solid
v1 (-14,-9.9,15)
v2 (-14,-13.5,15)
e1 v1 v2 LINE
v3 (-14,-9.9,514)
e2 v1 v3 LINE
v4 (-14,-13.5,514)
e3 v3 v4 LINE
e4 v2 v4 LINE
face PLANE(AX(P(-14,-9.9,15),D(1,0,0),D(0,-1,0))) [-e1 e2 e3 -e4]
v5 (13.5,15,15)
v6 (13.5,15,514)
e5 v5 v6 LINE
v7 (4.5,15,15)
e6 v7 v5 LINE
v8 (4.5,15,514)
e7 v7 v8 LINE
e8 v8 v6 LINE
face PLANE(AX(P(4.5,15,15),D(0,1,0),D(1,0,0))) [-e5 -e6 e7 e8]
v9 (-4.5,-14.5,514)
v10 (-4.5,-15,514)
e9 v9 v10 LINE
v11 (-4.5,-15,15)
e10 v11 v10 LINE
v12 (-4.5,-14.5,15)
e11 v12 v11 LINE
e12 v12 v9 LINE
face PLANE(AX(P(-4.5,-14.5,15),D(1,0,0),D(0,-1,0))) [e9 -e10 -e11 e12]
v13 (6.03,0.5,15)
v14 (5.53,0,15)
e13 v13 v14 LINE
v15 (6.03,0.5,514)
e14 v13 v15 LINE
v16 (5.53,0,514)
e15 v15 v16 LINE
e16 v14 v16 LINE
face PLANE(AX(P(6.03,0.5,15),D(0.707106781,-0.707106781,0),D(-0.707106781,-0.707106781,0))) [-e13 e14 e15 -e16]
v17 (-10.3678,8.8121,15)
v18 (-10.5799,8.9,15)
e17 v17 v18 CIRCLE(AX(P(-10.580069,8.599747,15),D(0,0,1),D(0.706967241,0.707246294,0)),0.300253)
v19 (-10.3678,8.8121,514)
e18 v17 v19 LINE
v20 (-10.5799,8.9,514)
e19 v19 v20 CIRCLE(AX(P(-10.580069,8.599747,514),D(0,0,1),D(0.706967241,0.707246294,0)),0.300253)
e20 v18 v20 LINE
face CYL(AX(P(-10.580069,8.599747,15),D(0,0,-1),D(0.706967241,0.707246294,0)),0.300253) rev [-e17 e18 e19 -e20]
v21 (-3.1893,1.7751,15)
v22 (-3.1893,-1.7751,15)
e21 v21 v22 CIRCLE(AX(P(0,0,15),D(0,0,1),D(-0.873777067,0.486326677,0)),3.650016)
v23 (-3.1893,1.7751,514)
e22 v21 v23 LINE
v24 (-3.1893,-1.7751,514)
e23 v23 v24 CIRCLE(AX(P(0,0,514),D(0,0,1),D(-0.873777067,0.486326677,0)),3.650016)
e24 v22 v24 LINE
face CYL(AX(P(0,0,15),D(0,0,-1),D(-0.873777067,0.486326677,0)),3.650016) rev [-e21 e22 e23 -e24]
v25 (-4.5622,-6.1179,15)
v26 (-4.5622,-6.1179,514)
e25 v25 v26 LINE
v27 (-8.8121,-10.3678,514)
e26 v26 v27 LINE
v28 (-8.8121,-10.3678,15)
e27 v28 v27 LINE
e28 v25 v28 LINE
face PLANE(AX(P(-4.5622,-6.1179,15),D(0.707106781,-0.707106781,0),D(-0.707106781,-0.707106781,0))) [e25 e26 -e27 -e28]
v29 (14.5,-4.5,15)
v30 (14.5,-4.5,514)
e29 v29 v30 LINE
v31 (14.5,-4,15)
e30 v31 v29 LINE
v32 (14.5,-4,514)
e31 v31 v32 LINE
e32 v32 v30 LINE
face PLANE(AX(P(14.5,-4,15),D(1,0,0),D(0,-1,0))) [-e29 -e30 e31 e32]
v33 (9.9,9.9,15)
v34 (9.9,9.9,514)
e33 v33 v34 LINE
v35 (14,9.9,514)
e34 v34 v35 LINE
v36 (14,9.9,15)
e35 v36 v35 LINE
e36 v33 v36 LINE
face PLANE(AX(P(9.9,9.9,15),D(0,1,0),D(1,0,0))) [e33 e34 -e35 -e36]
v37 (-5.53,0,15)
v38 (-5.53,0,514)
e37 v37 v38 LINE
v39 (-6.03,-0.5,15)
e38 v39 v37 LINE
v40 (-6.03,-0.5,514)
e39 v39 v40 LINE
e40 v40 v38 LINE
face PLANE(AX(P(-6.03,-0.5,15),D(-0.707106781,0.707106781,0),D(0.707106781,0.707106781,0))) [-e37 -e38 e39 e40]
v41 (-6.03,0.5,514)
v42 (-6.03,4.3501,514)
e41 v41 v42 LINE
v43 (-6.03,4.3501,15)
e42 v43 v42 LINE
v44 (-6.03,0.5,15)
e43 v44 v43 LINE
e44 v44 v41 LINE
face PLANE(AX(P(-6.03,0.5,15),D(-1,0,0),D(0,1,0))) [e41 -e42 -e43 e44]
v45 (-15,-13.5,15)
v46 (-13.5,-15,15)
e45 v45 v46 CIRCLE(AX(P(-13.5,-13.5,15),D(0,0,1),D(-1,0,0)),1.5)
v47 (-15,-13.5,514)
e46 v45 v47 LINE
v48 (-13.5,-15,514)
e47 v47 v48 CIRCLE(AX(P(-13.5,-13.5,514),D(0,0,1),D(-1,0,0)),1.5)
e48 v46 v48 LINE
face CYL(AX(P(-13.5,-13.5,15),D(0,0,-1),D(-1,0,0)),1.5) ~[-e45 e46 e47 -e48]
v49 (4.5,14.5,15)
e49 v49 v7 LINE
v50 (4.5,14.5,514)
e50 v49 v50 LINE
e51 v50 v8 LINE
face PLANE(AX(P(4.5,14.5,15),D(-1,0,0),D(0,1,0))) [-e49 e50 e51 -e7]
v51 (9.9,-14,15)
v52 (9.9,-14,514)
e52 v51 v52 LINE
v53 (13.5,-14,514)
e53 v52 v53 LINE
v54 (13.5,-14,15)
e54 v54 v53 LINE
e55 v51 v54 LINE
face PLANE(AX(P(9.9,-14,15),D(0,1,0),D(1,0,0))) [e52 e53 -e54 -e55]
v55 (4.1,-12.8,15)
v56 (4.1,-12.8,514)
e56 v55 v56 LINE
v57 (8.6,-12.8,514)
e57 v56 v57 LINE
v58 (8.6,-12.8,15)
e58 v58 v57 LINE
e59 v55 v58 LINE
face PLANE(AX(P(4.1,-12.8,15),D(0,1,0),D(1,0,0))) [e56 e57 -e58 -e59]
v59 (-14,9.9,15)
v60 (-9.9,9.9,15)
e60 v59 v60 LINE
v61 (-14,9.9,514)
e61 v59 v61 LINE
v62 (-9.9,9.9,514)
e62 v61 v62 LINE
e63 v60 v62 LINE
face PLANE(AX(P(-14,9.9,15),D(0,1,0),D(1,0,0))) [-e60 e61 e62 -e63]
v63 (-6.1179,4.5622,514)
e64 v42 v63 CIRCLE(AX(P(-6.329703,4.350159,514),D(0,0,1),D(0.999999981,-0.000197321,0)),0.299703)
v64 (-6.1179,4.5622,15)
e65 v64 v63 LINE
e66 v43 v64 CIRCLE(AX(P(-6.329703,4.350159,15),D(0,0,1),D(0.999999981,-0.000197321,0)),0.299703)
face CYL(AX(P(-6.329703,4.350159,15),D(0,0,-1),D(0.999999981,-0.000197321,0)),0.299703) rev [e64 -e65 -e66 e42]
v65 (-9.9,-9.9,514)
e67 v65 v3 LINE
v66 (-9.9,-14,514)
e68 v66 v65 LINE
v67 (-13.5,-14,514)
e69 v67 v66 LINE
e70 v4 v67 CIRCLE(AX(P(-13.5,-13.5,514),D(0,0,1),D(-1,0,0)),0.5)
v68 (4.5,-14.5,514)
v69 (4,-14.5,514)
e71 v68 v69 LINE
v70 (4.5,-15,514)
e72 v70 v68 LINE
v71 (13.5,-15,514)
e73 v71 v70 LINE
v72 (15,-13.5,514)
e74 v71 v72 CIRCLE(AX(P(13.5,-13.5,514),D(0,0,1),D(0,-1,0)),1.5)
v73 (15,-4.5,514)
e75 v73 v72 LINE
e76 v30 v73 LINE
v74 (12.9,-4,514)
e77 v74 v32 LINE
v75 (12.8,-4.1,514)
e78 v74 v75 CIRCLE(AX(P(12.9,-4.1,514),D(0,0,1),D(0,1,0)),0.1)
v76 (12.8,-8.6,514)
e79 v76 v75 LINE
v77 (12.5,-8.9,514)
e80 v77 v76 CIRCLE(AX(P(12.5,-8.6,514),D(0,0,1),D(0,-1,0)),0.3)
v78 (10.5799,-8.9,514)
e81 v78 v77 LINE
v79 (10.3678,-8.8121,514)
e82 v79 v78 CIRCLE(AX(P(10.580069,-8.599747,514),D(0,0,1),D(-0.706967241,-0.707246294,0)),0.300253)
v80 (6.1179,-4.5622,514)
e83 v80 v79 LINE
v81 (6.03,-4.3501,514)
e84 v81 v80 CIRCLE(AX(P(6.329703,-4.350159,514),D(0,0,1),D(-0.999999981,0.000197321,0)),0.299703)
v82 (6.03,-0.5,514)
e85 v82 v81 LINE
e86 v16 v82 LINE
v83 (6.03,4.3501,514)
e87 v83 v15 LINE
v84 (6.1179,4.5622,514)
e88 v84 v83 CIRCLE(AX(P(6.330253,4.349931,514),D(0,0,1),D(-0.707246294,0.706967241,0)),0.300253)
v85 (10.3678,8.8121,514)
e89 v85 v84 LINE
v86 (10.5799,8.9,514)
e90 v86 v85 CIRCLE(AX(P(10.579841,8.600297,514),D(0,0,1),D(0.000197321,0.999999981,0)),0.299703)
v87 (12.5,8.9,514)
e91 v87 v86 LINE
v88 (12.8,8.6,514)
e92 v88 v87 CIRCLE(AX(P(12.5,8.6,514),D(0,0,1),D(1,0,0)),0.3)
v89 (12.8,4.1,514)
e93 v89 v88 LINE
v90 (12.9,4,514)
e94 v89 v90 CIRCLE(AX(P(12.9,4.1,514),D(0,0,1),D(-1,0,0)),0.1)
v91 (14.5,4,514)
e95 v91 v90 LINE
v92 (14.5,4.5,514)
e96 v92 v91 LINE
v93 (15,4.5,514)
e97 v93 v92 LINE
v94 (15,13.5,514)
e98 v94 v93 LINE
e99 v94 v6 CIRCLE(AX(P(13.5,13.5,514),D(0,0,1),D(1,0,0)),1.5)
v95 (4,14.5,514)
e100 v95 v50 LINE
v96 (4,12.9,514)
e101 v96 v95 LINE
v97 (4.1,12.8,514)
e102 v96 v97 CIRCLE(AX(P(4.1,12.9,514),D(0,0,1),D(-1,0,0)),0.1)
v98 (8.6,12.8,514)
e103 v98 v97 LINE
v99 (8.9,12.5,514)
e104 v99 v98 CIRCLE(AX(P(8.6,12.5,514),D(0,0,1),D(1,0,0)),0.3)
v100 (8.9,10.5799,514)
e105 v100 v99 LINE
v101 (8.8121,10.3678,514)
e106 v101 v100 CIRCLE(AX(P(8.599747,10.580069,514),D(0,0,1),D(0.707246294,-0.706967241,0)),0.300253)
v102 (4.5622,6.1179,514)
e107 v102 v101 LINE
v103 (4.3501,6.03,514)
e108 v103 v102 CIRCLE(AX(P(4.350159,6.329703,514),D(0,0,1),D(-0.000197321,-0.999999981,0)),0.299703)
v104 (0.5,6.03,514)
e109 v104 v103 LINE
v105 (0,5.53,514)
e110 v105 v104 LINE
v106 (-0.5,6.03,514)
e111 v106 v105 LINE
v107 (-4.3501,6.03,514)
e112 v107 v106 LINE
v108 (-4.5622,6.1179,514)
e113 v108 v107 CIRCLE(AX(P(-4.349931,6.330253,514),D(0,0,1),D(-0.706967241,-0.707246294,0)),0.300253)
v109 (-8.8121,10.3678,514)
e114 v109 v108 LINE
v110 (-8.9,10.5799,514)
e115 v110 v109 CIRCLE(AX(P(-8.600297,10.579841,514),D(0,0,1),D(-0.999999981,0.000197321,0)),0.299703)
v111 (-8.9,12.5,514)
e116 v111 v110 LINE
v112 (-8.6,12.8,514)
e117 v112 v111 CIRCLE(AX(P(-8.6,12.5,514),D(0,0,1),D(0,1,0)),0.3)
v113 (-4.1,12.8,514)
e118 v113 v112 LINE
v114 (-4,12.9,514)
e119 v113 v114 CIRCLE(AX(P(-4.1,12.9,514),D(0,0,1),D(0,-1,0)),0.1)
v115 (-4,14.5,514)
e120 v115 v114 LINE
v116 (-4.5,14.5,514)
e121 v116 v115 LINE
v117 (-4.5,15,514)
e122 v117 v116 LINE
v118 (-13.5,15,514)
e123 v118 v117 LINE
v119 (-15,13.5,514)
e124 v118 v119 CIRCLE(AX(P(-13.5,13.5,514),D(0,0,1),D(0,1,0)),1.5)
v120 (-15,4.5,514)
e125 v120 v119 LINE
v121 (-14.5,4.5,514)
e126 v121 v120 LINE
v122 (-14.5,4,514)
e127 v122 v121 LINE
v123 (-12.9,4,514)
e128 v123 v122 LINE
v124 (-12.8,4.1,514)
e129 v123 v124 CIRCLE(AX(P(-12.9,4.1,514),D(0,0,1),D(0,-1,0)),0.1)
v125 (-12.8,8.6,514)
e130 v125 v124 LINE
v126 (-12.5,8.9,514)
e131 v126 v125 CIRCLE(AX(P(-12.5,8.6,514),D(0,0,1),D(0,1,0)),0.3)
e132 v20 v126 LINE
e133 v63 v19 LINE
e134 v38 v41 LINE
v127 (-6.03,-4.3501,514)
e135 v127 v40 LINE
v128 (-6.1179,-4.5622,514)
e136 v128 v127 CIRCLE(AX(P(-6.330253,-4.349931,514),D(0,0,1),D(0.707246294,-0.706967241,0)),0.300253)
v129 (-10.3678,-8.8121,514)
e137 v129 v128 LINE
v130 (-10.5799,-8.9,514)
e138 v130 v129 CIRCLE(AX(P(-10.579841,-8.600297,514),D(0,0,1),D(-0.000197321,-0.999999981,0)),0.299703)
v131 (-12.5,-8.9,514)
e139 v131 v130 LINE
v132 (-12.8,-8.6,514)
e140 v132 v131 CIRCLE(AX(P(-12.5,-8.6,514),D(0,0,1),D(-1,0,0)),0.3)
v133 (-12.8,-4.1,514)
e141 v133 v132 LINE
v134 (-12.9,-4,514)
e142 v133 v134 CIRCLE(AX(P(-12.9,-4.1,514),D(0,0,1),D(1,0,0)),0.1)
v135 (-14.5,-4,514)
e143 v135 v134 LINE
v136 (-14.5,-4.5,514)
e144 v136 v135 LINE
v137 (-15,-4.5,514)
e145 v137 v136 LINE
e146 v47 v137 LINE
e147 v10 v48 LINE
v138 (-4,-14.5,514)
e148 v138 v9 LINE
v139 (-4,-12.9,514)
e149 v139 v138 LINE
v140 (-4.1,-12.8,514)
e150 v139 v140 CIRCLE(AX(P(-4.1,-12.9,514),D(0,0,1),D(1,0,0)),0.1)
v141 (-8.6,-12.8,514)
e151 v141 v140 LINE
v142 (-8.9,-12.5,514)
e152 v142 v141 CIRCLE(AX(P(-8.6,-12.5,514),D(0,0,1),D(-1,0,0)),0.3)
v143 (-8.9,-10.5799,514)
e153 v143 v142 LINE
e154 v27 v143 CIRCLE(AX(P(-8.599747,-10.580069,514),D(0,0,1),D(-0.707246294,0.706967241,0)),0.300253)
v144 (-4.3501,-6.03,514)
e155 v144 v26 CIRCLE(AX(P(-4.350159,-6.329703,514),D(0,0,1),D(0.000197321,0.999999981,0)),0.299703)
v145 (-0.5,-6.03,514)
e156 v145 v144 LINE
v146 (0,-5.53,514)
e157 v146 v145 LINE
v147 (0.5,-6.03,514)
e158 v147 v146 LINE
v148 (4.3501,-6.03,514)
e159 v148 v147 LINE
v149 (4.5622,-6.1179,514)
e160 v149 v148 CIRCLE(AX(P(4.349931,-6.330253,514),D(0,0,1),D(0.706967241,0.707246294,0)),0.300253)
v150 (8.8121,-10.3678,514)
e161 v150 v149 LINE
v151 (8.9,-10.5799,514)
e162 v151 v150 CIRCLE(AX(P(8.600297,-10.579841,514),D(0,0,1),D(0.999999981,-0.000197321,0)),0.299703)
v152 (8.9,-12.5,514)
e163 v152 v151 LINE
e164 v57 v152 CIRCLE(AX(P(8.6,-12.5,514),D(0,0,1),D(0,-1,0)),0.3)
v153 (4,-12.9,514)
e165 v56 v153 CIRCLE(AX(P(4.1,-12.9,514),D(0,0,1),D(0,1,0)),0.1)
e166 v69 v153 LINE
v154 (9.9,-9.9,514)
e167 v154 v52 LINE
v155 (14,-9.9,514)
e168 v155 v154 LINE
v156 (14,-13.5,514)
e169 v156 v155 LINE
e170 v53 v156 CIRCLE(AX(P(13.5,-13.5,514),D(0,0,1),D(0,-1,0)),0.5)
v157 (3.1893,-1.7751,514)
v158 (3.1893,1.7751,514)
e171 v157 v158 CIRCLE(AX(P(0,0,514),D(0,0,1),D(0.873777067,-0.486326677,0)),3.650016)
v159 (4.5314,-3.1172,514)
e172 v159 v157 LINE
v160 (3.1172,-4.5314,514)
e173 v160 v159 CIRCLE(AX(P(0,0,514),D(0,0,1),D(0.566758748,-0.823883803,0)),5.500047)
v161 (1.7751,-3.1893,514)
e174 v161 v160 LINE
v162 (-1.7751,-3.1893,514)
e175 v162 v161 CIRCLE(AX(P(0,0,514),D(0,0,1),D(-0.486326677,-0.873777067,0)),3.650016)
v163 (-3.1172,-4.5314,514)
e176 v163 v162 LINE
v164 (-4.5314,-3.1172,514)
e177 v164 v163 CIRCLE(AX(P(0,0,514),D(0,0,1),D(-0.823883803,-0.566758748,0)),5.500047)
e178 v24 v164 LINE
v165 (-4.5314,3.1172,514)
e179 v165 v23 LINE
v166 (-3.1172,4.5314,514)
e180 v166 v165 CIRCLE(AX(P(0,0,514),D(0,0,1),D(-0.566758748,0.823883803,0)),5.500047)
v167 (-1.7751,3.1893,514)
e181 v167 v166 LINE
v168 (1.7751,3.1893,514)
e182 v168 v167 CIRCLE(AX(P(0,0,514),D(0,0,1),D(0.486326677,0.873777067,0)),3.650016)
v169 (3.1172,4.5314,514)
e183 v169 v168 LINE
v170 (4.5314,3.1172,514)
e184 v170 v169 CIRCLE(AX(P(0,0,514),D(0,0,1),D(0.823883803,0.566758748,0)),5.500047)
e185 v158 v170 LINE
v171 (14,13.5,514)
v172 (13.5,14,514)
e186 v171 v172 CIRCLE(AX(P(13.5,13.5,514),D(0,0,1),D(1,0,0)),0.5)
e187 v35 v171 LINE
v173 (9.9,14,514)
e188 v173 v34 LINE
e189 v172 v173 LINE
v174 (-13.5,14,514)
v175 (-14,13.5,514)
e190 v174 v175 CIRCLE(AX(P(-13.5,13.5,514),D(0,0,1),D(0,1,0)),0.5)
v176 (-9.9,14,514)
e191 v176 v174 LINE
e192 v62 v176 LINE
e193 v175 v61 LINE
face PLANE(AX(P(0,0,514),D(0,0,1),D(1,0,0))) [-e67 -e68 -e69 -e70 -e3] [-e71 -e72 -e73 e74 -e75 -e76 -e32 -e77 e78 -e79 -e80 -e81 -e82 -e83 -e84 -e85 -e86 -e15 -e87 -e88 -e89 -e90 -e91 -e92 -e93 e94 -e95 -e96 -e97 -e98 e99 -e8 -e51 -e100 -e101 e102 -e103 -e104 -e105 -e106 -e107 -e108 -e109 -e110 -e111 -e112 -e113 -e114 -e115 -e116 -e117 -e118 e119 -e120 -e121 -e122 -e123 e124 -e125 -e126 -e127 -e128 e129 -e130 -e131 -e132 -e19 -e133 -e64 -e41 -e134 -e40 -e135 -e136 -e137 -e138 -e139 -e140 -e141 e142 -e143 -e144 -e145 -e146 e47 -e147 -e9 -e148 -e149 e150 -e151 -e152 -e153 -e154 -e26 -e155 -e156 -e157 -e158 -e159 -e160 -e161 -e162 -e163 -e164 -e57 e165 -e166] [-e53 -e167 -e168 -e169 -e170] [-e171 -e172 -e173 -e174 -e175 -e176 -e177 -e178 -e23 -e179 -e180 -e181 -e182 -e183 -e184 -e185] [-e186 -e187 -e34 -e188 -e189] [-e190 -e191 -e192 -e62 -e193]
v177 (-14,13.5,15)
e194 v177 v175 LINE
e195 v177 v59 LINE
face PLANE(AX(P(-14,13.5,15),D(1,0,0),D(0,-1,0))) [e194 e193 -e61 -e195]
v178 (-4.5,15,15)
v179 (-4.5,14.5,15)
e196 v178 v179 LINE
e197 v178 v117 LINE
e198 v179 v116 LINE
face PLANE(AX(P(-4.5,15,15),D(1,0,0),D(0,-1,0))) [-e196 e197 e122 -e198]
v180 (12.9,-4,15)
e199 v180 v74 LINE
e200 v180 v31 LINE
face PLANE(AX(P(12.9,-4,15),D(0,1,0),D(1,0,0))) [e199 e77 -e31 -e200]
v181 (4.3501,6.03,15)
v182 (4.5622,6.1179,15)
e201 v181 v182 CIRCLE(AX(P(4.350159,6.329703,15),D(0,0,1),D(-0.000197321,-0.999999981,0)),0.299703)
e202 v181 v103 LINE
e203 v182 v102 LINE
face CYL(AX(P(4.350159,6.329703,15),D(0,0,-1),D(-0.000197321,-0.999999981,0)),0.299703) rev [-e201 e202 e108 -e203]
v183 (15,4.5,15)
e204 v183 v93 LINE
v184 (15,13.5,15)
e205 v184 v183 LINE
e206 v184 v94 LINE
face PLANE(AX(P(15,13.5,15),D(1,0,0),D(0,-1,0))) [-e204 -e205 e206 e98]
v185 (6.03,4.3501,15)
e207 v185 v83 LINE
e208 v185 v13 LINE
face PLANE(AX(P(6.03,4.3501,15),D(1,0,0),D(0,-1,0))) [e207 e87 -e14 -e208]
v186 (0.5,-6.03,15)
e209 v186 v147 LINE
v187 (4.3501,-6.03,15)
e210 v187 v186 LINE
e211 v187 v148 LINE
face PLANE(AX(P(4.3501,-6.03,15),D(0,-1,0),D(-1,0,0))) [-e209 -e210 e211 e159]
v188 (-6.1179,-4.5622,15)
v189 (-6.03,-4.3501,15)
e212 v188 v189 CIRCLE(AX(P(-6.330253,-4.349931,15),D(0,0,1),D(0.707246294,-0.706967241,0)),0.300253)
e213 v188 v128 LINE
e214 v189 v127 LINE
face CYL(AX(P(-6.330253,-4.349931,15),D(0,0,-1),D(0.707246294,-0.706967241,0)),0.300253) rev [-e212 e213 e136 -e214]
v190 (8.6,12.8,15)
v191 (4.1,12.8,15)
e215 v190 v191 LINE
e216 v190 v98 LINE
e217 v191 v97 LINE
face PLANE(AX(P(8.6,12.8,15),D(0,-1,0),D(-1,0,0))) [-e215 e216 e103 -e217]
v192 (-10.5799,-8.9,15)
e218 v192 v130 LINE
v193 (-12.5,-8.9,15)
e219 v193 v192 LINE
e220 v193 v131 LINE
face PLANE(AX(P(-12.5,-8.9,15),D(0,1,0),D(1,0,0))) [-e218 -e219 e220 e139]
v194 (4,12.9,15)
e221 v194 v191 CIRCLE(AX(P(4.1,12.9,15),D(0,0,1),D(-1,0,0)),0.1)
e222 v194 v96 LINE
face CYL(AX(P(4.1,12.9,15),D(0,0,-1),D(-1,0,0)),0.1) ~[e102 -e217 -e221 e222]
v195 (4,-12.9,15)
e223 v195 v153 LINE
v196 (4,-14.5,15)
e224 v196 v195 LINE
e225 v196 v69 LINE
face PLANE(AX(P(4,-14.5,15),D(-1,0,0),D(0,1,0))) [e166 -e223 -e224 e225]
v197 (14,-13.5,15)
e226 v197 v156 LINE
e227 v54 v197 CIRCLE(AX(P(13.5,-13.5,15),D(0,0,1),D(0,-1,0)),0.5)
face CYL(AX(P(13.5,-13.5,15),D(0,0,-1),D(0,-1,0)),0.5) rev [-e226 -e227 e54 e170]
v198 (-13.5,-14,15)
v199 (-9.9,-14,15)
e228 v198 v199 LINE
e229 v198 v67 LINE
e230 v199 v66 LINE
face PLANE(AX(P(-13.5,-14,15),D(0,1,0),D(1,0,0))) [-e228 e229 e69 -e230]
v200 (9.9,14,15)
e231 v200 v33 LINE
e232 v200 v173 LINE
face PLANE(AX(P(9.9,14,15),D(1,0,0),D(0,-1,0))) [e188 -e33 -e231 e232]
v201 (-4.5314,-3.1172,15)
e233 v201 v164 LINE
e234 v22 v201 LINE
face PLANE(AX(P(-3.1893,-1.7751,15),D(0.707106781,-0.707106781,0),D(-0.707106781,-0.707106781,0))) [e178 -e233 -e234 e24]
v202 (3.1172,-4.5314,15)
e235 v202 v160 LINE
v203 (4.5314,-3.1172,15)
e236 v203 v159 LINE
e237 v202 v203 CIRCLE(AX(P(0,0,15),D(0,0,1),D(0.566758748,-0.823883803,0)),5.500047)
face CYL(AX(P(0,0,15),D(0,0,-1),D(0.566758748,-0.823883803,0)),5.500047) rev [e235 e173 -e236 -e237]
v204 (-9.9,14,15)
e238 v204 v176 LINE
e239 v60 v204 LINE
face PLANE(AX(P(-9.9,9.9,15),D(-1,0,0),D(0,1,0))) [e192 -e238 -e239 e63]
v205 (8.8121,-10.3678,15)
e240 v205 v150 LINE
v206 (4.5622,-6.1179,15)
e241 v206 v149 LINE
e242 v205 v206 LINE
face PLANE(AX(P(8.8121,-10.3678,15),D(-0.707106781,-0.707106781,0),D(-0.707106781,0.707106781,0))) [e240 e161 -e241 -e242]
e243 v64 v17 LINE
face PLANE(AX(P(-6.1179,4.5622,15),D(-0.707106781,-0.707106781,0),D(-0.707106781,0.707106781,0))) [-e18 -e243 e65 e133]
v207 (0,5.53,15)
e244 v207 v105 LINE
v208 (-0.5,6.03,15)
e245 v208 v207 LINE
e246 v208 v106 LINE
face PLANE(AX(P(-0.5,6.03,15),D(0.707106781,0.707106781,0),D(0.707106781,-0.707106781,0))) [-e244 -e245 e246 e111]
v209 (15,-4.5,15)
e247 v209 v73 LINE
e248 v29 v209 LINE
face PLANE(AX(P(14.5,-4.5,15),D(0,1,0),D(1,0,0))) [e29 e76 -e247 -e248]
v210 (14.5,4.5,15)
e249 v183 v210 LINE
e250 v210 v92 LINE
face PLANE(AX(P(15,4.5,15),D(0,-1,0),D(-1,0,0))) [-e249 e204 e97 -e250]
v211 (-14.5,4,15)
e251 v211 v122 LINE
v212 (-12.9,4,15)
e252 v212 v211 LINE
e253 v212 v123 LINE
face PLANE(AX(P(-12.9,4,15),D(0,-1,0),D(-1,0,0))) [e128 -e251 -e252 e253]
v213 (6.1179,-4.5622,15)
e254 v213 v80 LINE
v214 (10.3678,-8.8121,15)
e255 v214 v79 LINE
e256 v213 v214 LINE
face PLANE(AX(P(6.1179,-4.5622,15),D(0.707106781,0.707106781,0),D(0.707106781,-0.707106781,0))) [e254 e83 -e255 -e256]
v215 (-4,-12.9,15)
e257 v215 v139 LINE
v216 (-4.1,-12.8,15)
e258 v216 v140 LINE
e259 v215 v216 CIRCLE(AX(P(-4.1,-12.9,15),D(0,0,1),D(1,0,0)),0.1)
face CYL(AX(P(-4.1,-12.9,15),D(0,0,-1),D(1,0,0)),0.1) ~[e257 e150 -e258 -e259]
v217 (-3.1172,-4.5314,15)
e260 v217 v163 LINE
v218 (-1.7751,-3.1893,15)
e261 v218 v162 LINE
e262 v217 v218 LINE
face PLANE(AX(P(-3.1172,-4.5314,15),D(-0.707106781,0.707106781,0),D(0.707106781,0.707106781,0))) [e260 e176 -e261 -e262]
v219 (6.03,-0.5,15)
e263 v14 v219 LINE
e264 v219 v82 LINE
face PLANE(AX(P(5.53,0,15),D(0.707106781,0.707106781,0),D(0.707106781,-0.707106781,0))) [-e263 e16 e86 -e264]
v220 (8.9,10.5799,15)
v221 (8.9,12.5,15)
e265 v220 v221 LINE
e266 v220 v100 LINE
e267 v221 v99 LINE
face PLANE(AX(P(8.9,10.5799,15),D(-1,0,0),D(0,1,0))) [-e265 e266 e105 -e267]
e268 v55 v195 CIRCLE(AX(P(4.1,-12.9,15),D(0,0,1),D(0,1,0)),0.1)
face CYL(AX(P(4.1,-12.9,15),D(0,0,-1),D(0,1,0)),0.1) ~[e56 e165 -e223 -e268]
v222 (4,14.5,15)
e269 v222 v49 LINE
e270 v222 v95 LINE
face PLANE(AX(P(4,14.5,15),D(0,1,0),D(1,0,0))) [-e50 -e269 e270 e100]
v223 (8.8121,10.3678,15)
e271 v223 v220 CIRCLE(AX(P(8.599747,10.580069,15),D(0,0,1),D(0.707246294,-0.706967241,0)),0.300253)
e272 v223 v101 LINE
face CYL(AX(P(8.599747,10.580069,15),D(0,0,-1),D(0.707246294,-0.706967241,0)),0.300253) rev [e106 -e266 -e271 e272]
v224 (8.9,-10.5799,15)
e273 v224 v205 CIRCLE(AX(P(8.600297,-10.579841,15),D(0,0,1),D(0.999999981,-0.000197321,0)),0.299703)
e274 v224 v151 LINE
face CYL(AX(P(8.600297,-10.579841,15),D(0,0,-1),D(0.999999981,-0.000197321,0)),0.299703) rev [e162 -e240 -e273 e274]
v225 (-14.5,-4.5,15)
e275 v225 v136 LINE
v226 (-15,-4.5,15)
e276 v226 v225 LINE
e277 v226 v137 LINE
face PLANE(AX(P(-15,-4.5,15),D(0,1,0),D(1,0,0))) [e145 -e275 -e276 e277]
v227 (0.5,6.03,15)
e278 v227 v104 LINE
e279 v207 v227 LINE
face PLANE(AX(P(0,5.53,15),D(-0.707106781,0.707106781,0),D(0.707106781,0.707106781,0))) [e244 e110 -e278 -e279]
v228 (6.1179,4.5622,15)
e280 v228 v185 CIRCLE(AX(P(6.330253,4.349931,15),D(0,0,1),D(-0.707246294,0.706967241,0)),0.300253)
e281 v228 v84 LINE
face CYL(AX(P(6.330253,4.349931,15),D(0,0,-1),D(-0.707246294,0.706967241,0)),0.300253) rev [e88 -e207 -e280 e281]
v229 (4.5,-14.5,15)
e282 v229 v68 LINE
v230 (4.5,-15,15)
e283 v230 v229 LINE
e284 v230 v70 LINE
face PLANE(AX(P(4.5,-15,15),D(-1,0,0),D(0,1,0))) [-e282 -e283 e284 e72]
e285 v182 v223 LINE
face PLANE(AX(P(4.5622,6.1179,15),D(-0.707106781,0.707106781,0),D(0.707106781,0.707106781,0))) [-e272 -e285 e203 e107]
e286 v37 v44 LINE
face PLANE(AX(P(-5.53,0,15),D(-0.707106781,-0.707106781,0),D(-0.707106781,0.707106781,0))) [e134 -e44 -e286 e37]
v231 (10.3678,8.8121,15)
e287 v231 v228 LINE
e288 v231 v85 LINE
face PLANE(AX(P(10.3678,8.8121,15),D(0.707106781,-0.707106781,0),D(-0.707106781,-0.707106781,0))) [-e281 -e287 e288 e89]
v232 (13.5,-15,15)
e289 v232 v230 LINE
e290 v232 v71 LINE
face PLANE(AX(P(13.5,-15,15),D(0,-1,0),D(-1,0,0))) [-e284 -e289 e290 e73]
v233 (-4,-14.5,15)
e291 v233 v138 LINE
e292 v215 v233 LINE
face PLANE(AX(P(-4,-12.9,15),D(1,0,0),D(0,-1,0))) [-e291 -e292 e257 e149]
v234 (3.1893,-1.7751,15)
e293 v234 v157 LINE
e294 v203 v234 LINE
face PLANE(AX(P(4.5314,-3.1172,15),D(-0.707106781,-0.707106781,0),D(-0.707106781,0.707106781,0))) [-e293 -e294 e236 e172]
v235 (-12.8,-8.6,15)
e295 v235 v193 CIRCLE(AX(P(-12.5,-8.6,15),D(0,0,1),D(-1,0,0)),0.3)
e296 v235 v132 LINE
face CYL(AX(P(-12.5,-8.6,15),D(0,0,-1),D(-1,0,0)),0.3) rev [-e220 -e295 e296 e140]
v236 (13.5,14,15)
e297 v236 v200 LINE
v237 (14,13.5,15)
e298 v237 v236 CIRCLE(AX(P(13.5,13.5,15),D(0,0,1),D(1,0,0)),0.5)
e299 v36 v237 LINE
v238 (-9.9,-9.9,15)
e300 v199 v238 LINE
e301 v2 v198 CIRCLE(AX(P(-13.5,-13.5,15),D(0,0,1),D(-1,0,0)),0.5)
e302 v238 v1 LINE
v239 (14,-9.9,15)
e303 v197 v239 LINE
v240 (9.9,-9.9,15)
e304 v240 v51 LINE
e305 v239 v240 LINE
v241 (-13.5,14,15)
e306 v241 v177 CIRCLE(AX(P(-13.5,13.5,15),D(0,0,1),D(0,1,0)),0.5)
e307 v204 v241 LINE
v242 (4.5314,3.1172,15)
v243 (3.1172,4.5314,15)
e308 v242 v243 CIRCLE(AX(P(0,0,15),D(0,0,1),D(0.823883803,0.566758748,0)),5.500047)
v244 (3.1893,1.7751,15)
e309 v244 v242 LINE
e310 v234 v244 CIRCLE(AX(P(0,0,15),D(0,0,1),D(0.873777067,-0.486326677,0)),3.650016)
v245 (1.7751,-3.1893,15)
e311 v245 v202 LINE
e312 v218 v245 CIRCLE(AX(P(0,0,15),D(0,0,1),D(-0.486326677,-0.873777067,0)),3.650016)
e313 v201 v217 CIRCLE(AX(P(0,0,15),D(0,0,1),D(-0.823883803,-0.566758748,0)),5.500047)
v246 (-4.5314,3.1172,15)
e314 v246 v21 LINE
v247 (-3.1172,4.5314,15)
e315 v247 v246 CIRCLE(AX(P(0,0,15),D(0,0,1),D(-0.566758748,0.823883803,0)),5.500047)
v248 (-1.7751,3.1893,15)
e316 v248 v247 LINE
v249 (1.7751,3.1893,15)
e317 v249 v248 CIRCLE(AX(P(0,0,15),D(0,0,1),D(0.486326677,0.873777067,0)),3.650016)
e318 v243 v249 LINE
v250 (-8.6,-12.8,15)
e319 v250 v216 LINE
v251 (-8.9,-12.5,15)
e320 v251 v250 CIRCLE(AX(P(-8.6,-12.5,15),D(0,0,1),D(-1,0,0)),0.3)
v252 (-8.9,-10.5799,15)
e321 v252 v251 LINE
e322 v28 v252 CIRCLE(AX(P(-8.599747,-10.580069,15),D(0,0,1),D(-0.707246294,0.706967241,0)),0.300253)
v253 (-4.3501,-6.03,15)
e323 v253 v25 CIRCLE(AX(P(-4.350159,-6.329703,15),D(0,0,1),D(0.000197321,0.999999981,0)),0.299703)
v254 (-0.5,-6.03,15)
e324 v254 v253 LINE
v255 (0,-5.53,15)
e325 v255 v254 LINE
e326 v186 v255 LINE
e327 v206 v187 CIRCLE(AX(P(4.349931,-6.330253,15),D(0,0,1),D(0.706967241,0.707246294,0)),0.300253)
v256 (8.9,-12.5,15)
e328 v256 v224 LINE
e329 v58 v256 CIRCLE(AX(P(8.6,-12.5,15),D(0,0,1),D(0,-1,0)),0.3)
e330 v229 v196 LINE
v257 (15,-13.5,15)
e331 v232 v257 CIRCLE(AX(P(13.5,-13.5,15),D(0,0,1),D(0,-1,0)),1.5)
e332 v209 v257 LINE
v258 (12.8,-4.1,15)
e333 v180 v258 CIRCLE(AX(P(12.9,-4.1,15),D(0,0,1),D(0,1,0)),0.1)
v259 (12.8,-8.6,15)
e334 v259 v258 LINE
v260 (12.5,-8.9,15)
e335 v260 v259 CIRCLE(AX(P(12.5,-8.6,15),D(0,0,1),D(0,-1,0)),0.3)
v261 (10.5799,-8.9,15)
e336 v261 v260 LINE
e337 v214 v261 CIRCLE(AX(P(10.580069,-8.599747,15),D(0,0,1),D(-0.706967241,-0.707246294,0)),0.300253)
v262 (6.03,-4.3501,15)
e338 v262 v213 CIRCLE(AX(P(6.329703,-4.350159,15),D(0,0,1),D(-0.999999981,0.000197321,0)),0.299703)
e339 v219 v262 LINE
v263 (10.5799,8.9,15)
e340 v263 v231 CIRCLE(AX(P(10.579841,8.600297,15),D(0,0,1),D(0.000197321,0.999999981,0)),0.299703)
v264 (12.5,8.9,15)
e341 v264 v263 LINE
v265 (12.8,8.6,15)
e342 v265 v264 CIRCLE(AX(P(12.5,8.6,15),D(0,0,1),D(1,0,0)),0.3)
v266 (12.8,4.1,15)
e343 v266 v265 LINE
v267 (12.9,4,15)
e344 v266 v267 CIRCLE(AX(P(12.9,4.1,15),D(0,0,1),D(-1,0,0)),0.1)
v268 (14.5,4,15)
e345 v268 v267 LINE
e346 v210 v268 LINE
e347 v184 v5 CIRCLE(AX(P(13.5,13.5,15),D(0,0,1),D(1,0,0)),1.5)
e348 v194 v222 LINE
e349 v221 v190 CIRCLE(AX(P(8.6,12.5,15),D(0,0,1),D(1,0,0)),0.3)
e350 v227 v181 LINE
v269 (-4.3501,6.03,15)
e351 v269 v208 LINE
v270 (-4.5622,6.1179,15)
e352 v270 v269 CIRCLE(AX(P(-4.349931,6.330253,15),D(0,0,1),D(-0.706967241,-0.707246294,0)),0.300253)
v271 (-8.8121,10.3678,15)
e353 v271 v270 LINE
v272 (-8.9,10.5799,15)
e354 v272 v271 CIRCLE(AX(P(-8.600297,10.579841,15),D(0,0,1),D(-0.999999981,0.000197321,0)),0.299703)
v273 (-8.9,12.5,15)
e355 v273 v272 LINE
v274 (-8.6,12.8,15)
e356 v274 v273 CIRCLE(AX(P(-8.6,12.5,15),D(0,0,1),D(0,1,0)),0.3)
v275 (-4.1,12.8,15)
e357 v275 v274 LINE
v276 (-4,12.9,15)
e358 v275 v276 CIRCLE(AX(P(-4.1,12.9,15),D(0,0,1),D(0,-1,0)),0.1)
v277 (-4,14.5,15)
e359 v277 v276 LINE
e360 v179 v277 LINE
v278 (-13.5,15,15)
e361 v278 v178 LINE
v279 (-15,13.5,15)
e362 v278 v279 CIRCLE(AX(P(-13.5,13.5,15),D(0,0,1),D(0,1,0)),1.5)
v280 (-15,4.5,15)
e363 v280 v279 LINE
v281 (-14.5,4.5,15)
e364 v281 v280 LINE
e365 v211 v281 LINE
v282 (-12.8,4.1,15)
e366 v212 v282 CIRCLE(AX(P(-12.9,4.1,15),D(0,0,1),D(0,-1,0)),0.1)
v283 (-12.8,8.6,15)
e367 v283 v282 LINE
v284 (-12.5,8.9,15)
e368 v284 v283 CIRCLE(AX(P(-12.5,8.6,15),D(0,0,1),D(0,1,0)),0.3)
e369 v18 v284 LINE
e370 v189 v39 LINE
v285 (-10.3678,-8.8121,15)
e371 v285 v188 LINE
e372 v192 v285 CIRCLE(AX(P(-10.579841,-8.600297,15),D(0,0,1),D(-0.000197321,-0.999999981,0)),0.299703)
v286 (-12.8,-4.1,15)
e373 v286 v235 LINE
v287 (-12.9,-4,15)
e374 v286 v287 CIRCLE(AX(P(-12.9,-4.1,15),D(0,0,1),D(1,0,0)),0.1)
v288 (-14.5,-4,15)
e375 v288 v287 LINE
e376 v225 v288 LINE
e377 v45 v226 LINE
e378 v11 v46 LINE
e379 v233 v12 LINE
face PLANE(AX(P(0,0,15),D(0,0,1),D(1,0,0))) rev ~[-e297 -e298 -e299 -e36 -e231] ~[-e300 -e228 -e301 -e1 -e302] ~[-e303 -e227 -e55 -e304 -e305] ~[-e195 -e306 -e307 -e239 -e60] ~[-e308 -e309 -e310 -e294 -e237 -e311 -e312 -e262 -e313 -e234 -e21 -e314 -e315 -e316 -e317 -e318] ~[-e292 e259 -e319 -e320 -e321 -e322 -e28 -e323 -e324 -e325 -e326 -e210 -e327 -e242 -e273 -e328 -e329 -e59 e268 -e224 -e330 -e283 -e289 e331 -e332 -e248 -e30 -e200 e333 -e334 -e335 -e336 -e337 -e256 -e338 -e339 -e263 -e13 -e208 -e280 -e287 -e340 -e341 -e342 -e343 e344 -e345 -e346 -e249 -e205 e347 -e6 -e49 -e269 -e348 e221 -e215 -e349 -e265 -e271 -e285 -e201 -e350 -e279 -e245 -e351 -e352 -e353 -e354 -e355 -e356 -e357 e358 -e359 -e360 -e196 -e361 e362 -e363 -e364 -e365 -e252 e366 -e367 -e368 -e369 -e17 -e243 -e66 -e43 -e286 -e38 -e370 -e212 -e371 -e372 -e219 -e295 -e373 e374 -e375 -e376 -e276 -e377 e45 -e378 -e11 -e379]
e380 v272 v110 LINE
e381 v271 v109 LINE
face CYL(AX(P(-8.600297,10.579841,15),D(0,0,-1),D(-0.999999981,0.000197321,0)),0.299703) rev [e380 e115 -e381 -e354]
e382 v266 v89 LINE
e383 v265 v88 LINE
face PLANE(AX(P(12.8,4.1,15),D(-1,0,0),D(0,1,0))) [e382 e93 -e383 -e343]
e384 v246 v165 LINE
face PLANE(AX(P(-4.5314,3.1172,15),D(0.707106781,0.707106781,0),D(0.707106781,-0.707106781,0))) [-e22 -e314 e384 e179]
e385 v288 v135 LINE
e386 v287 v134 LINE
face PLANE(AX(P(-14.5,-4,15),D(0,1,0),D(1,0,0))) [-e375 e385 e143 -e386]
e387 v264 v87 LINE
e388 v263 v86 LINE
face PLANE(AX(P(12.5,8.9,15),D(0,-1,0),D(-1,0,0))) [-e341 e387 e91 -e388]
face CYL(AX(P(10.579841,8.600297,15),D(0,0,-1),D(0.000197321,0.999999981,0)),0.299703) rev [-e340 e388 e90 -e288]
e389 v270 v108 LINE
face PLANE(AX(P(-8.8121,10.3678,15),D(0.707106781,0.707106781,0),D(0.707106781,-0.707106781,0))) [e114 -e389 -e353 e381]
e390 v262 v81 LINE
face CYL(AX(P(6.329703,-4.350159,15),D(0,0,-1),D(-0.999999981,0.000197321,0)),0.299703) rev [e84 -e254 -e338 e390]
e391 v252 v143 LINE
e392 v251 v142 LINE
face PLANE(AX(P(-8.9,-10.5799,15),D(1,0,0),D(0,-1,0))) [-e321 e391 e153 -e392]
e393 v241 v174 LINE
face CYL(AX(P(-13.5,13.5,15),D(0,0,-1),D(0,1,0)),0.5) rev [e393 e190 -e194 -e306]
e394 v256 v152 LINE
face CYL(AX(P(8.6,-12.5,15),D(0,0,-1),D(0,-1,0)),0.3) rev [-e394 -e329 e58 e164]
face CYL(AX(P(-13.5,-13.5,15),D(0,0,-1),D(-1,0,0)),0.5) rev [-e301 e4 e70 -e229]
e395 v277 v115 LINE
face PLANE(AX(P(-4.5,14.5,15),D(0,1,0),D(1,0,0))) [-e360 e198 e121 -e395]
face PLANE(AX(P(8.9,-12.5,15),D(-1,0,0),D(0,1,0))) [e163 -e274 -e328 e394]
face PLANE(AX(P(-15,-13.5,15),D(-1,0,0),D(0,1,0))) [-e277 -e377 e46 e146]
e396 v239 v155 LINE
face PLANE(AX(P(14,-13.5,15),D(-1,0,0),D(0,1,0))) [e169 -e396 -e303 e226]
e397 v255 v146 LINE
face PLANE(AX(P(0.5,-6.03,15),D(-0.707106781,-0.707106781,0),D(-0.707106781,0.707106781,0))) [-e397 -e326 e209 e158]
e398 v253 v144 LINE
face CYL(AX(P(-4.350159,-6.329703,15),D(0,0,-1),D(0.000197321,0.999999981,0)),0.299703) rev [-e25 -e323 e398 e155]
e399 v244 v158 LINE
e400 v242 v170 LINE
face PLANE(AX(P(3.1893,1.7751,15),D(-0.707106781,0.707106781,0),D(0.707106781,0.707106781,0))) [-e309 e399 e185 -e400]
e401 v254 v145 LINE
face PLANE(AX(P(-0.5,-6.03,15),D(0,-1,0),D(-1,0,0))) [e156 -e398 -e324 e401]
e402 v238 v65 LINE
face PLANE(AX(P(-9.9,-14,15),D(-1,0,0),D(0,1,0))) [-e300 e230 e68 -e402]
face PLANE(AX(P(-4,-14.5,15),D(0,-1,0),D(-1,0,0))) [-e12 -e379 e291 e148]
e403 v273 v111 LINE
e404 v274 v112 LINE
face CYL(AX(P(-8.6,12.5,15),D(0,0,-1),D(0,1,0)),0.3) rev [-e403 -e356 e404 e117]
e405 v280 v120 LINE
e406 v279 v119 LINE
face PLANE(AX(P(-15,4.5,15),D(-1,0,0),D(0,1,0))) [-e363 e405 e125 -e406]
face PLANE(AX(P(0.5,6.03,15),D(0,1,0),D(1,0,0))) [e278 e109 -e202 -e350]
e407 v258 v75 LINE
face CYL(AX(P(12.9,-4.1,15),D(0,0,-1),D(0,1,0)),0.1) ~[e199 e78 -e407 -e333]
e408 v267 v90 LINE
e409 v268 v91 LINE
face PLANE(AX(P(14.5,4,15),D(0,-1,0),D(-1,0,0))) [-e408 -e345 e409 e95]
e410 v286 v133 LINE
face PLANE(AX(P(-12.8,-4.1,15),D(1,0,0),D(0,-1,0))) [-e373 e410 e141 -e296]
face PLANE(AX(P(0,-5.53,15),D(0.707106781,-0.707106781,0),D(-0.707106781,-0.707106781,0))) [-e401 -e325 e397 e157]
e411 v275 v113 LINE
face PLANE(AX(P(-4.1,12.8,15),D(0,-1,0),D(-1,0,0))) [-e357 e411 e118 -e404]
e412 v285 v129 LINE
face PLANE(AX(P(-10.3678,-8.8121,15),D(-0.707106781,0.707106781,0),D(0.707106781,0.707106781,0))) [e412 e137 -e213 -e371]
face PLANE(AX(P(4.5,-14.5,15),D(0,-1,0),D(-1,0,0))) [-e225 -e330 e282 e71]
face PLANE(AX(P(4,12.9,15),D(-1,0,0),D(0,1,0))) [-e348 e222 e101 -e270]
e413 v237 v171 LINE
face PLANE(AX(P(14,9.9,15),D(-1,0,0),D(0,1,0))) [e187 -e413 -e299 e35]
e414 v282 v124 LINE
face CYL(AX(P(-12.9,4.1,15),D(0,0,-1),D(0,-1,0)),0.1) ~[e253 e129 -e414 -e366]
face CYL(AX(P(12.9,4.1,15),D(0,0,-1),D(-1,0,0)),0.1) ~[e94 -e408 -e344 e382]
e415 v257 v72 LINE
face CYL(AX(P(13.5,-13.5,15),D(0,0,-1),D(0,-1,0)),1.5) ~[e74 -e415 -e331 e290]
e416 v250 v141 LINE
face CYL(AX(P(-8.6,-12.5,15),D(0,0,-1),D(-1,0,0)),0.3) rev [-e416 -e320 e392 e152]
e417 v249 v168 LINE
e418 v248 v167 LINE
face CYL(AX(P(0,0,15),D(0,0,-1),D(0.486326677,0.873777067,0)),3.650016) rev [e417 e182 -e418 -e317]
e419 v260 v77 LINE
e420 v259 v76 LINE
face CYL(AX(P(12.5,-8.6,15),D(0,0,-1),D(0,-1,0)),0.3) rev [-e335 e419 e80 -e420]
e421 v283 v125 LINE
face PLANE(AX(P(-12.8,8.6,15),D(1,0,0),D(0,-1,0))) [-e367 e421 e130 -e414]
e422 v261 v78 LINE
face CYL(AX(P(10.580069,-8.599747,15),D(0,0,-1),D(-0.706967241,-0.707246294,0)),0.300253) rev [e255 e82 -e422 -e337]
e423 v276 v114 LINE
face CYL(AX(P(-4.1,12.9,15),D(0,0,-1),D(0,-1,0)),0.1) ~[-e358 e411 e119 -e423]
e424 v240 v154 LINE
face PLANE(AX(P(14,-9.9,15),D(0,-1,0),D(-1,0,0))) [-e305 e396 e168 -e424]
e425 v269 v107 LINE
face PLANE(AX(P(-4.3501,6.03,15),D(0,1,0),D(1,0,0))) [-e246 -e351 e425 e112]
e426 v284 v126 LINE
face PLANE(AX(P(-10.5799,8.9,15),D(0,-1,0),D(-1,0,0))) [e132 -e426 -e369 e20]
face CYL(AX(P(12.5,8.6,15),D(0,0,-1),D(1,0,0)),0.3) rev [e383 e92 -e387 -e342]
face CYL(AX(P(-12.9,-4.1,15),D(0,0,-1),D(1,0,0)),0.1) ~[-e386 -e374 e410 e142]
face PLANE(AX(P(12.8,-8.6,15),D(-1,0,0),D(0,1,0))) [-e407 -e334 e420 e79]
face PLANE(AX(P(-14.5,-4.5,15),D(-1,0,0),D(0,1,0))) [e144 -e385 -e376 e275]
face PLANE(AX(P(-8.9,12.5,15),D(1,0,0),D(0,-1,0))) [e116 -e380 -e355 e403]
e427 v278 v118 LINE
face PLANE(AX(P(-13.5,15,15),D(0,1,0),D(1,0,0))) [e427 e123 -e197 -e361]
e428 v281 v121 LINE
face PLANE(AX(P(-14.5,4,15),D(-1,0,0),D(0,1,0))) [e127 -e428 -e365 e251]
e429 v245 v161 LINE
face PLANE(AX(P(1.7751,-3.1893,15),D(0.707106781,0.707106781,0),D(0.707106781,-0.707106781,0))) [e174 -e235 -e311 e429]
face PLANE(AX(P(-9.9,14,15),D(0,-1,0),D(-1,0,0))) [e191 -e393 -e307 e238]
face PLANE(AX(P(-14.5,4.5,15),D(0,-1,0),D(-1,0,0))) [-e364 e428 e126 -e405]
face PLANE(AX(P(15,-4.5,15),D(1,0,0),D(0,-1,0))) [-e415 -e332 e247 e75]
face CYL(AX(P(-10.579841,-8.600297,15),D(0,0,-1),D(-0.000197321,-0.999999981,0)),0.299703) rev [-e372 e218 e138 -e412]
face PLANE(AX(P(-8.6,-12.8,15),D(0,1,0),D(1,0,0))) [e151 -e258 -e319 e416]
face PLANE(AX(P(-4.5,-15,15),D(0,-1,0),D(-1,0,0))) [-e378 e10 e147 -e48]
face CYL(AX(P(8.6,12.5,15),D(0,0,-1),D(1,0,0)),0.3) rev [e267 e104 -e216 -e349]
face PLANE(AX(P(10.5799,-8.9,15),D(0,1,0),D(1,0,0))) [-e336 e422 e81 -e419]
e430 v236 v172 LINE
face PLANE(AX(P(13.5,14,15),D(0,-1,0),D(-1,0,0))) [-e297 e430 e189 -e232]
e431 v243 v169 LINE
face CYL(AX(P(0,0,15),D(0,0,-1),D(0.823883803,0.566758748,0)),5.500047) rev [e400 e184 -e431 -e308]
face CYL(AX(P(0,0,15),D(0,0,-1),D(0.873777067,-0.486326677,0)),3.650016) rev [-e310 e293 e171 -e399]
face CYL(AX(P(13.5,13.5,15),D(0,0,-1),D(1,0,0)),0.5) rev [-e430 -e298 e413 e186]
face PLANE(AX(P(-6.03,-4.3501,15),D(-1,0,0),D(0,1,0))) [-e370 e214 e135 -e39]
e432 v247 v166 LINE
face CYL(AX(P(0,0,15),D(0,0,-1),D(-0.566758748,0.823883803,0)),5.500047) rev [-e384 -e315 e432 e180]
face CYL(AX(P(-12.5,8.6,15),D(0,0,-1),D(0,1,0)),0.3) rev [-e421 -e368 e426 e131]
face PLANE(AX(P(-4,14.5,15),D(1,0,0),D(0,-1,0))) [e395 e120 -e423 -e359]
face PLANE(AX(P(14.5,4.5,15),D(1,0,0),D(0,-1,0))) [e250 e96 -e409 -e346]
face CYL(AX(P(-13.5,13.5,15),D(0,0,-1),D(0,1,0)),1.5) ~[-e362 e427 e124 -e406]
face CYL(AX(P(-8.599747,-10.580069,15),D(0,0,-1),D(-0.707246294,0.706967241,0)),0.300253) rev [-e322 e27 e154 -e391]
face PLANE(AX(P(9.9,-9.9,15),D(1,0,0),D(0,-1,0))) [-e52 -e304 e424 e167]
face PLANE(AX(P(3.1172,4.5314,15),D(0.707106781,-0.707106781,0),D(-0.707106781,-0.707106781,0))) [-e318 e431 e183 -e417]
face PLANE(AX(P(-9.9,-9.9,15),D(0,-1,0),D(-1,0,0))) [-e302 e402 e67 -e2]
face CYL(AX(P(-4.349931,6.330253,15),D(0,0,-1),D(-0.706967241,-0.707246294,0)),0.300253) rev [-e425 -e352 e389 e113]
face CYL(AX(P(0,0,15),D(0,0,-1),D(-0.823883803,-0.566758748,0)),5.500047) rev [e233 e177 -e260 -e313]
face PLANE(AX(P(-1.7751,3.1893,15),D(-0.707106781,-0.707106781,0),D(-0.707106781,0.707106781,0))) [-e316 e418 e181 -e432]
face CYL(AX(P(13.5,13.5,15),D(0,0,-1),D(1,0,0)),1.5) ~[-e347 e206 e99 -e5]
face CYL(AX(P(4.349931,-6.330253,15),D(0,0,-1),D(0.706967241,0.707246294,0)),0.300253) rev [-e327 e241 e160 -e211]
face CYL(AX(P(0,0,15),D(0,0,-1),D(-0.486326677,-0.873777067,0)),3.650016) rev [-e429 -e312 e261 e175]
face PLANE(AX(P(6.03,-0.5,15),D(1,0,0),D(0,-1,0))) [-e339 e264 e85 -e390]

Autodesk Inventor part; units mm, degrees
ref_plane "Płaszczyzna początkowa" through (0, 0, 15) normal (0, 0, 1) x (1, 0, 0)
ref_plane "Płaszczyzna końcowa" through (0, 0, 514) normal (0, 0, 1) x (1, 0, 0)
sketch "Szkic" plane through (0, 0, 0) normal (0, 0, 1) x (1, 0, 0)
  line L0 (1.7751, -3.1893) -> (3.1172, -4.5314)
  arc A0 (-1.7751, -3.1893) -> (1.7751, -3.1893) centre (0, 0) ccw
  line L1 (-3.1172, -4.5314) -> (-1.7751, -3.1893)
  arc A1 (-4.5314, -3.1172) -> (-3.1172, -4.5314) centre (0, 0) ccw
  line L2 (-3.1893, -1.7751) -> (-4.5314, -3.1172)
  arc A2 (-3.1893, 1.7751) -> (-3.1893, -1.7751) centre (0, 0) ccw
  line L3 (-4.5314, 3.1172) -> (-3.1893, 1.7751)
  arc A3 (-3.1172, 4.5314) -> (-4.5314, 3.1172) centre (0, 0) ccw
  line L4 (-1.7751, 3.1893) -> (-3.1172, 4.5314)
  arc A4 (1.7751, 3.1893) -> (-1.7751, 3.1893) centre (0, 0) ccw
  line L5 (3.1172, 4.5314) -> (1.7751, 3.1893)
  arc A5 (4.5314, 3.1172) -> (3.1172, 4.5314) centre (0, 0) ccw
  line L6 (3.1893, 1.7751) -> (4.5314, 3.1172)
  arc A6 (3.1893, -1.7751) -> (3.1893, 1.7751) centre (0, 0) ccw
  line L7 (4.5314, -3.1172) -> (3.1893, -1.7751)
  arc A7 (3.1172, -4.5314) -> (4.5314, -3.1172) centre (0, 0) ccw
  line L8 (14, -13.5) -> (14, -9.9)
  arc A8 (13.5, -14) -> (14, -13.5) centre (13.5, -13.5) ccw
  line L9 (9.9, -14) -> (13.5, -14)
  line L10 (9.9, -9.9) -> (9.9, -14)
  line L11 (14, -9.9) -> (9.9, -9.9)
  line L12 (-9.9, -9.9) -> (-14, -9.9)
  line L13 (-9.9, -14) -> (-9.9, -9.9)
  line L14 (-13.5, -14) -> (-9.9, -14)
  arc A9 (-14, -13.5) -> (-13.5, -14) centre (-13.5, -13.5) ccw
  line L15 (-14, -9.9) -> (-14, -13.5)
  line L16 (14, 9.9) -> (14, 13.5)
  line L17 (9.9, 9.9) -> (14, 9.9)
  line L18 (9.9, 14) -> (9.9, 9.9)
  line L19 (13.5, 14) -> (9.9, 14)
  arc A10 (14, 13.5) -> (13.5, 14) centre (13.5, 13.5) ccw
  line L20 (-14, 9.9) -> (-9.9, 9.9)
  line L21 (-14, 13.5) -> (-14, 9.9)
  arc A11 (-13.5, 14) -> (-14, 13.5) centre (-13.5, 13.5) ccw
  line L22 (-9.9, 14) -> (-13.5, 14)
  line L23 (-9.9, 9.9) -> (-9.9, 14)
  line L24 (13.5, -15) -> (4.5, -15)
  arc A12 (13.5, -15) -> (15, -13.5) centre (13.5, -13.5) ccw
  line L25 (15, -4.5) -> (15, -13.5)
  line L26 (14.5, -4.5) -> (15, -4.5)
  line L27 (14.5, -4) -> (14.5, -4.5)
  line L28 (12.9, -4) -> (14.5, -4)
  arc A13 (12.9, -4) -> (12.8, -4.1) centre (12.9, -4.1) ccw
  line L29 (12.8, -8.6) -> (12.8, -4.1)
  arc A14 (12.5, -8.9) -> (12.8, -8.6) centre (12.5, -8.6) ccw
  line L30 (10.5799, -8.9) -> (12.5, -8.9)
  arc A15 (10.3678, -8.8121) -> (10.5799, -8.9) centre (10.5799, -8.6) ccw
  line L31 (6.1179, -4.5622) -> (10.3678, -8.8121)
  arc A16 (6.03, -4.3501) -> (6.1179, -4.5622) centre (6.33, -4.3501) ccw
  line L32 (6.03, -0.5) -> (6.03, -4.3501)
  line L33 (5.53, 0) -> (6.03, -0.5)
  line L34 (6.03, 0.5) -> (5.53, 0)
  line L35 (6.03, 4.3501) -> (6.03, 0.5)
  arc A17 (6.1179, 4.5622) -> (6.03, 4.3501) centre (6.33, 4.3501) ccw
  line L36 (10.3678, 8.8121) -> (6.1179, 4.5622)
  arc A18 (10.5799, 8.9) -> (10.3678, 8.8121) centre (10.5799, 8.6) ccw
  line L37 (12.5, 8.9) -> (10.5799, 8.9)
  arc A19 (12.8, 8.6) -> (12.5, 8.9) centre (12.5, 8.6) ccw
  line L38 (12.8, 4.1) -> (12.8, 8.6)
  arc A20 (12.8, 4.1) -> (12.9, 4) centre (12.9, 4.1) ccw
  line L39 (14.5, 4) -> (12.9, 4)
  line L40 (14.5, 4.5) -> (14.5, 4)
  line L41 (15, 4.5) -> (14.5, 4.5)
  line L42 (15, 13.5) -> (15, 4.5)
  arc A21 (15, 13.5) -> (13.5, 15) centre (13.5, 13.5) ccw
  line L43 (4.5, 15) -> (13.5, 15)
  line L44 (4.5, 14.5) -> (4.5, 15)
  line L45 (4, 14.5) -> (4.5, 14.5)
  line L46 (4, 12.9) -> (4, 14.5)
  arc A22 (4, 12.9) -> (4.1, 12.8) centre (4.1, 12.9) ccw
  line L47 (8.6, 12.8) -> (4.1, 12.8)
  arc A23 (8.9, 12.5) -> (8.6, 12.8) centre (8.6, 12.5) ccw
  line L48 (8.9, 10.5799) -> (8.9, 12.5)
  arc A24 (8.8121, 10.3678) -> (8.9, 10.5799) centre (8.6, 10.5799) ccw
  line L49 (4.5622, 6.1179) -> (8.8121, 10.3678)
  arc A25 (4.3501, 6.03) -> (4.5622, 6.1179) centre (4.3501, 6.33) ccw
  line L50 (0.5, 6.03) -> (4.3501, 6.03)
  line L51 (0, 5.53) -> (0.5, 6.03)
  line L52 (-0.5, 6.03) -> (0, 5.53)
  line L53 (-4.3501, 6.03) -> (-0.5, 6.03)
  arc A26 (-4.5622, 6.1179) -> (-4.3501, 6.03) centre (-4.3501, 6.33) ccw
  line L54 (-8.8121, 10.3678) -> (-4.5622, 6.1179)
  arc A27 (-8.9, 10.5799) -> (-8.8121, 10.3678) centre (-8.6, 10.5799) ccw
  line L55 (-8.9, 12.5) -> (-8.9, 10.5799)
  arc A28 (-8.6, 12.8) -> (-8.9, 12.5) centre (-8.6, 12.5) ccw
  line L56 (-4.1, 12.8) -> (-8.6, 12.8)
  arc A29 (-4.1, 12.8) -> (-4, 12.9) centre (-4.1, 12.9) ccw
  line L57 (-4, 14.5) -> (-4, 12.9)
  line L58 (-4.5, 14.5) -> (-4, 14.5)
  line L59 (-4.5, 15) -> (-4.5, 14.5)
  line L60 (-13.5, 15) -> (-4.5, 15)
  arc A30 (-13.5, 15) -> (-15, 13.5) centre (-13.5, 13.5) ccw
  line L61 (-15, 4.5) -> (-15, 13.5)
  line L62 (-14.5, 4.5) -> (-15, 4.5)
  line L63 (-14.5, 4) -> (-14.5, 4.5)
  line L64 (-12.9, 4) -> (-14.5, 4)
  arc A31 (-12.9, 4) -> (-12.8, 4.1) centre (-12.9, 4.1) ccw
  line L65 (-12.8, 8.6) -> (-12.8, 4.1)
  arc A32 (-12.5, 8.9) -> (-12.8, 8.6) centre (-12.5, 8.6) ccw
  line L66 (-10.5799, 8.9) -> (-12.5, 8.9)
  arc A33 (-10.3678, 8.8121) -> (-10.5799, 8.9) centre (-10.5799, 8.6) ccw
  line L67 (-6.1179, 4.5622) -> (-10.3678, 8.8121)
  arc A34 (-6.03, 4.3501) -> (-6.1179, 4.5622) centre (-6.33, 4.3501) ccw
  line L68 (-6.03, 0.5) -> (-6.03, 4.3501)
  line L69 (-5.53, 0) -> (-6.03, 0.5)
  line L70 (-6.03, -0.5) -> (-5.53, 0)
  line L71 (-6.03, -4.3501) -> (-6.03, -0.5)
  arc A35 (-6.1179, -4.5622) -> (-6.03, -4.3501) centre (-6.33, -4.3501) ccw
  line L72 (-10.3678, -8.8121) -> (-6.1179, -4.5622)
  arc A36 (-10.5799, -8.9) -> (-10.3678, -8.8121) centre (-10.5799, -8.6) ccw
  line L73 (-12.5, -8.9) -> (-10.5799, -8.9)
  arc A37 (-12.8, -8.6) -> (-12.5, -8.9) centre (-12.5, -8.6) ccw
  line L74 (-12.8, -4.1) -> (-12.8, -8.6)
  arc A38 (-12.8, -4.1) -> (-12.9, -4) centre (-12.9, -4.1) ccw
  line L75 (-14.5, -4) -> (-12.9, -4)
  line L76 (-14.5, -4.5) -> (-14.5, -4)
  line L77 (-15, -4.5) -> (-14.5, -4.5)
  line L78 (-15, -13.5) -> (-15, -4.5)
  arc A39 (-15, -13.5) -> (-13.5, -15) centre (-13.5, -13.5) ccw
  line L79 (-4.5, -15) -> (-13.5, -15)
  line L80 (-4.5, -14.5) -> (-4.5, -15)
  line L81 (-4, -14.5) -> (-4.5, -14.5)
  line L82 (-4, -12.9) -> (-4, -14.5)
  arc A40 (-4, -12.9) -> (-4.1, -12.8) centre (-4.1, -12.9) ccw
  line L83 (-8.6, -12.8) -> (-4.1, -12.8)
  arc A41 (-8.9, -12.5) -> (-8.6, -12.8) centre (-8.6, -12.5) ccw
  line L84 (-8.9, -10.5799) -> (-8.9, -12.5)
  arc A42 (-8.8121, -10.3678) -> (-8.9, -10.5799) centre (-8.6, -10.5799) ccw
  line L85 (-4.5622, -6.1179) -> (-8.8121, -10.3678)
  arc A43 (-4.3501, -6.03) -> (-4.5622, -6.1179) centre (-4.3501, -6.33) ccw
  line L86 (-0.5, -6.03) -> (-4.3501, -6.03)
  line L87 (0, -5.53) -> (-0.5, -6.03)
  line L88 (0.5, -6.03) -> (0, -5.53)
  line L89 (4.3501, -6.03) -> (0.5, -6.03)
  arc A44 (4.5622, -6.1179) -> (4.3501, -6.03) centre (4.3501, -6.33) ccw
  line L90 (8.8121, -10.3678) -> (4.5622, -6.1179)
  arc A45 (8.9, -10.5799) -> (8.8121, -10.3678) centre (8.6, -10.5799) ccw
  line L91 (8.9, -12.5) -> (8.9, -10.5799)
  arc A46 (8.6, -12.8) -> (8.9, -12.5) centre (8.6, -12.5) ccw
  line L92 (4.1, -12.8) -> (8.6, -12.8)
  arc A47 (4.1, -12.8) -> (4, -12.9) centre (4.1, -12.9) ccw
  line L93 (4, -14.5) -> (4, -12.9)
  line L94 (4.5, -14.5) -> (4, -14.5)
  line L95 (4.5, -15) -> (4.5, -14.5)
  point P0 (15, -15)
extrude "Bryła" add sketch "Szkic" along normal up to surface (499 mm away) from surface at 15
sketch "Szkic2" plane through (0, 0, 0) normal (0, 0, 1) x (1, 0, 0)
  line L0 (0, 0) -> (10, 0)
ref_plane "Płaszczyzna konstrukcyjna3" through (0, 0, 0) normal (0, -1, 0) x (1, 0, 0)
sketch "Szkic3" plane through (0, 0, 0) normal (0, -1, 0) x (1, 0, 0)
  line L0 (-2, 15) -> (12, 15)
  line L1 (-2, 514) -> (12, 514)
  dimension "d7" = 499
ref_plane "Płaszczyzna konstrukcyjna4" through (13.5, -30, 514) normal (0, 0, 1) x (1, 0, 0)
split "Podział1" plane through (13.5, -30, 514) removes the side toward (0, 0, 1)
ref_plane "Płaszczyzna konstrukcyjna5" through (4.5, -30, 15) normal (0, 0, -1) x (-1, 0, 0)
split "Podział2" plane through (4.5, -30, 15) removes the side toward (0, 0, -1)
equation "\"G_OFFSET_START\" = -15"
equation "\"G_OFFSET_END\" = -15"
equation "\"d2\" = -G_OFFSET_START"
equation "\"d3\" = Length + G_OFFSET_END"
equation "\"G_L\" = d7"
equation "\"Length\" = 529"
properties part number "COTS_ARMA_AR3703_30x30_Alu_Extr_00000008" material "Aluminium 6061"
